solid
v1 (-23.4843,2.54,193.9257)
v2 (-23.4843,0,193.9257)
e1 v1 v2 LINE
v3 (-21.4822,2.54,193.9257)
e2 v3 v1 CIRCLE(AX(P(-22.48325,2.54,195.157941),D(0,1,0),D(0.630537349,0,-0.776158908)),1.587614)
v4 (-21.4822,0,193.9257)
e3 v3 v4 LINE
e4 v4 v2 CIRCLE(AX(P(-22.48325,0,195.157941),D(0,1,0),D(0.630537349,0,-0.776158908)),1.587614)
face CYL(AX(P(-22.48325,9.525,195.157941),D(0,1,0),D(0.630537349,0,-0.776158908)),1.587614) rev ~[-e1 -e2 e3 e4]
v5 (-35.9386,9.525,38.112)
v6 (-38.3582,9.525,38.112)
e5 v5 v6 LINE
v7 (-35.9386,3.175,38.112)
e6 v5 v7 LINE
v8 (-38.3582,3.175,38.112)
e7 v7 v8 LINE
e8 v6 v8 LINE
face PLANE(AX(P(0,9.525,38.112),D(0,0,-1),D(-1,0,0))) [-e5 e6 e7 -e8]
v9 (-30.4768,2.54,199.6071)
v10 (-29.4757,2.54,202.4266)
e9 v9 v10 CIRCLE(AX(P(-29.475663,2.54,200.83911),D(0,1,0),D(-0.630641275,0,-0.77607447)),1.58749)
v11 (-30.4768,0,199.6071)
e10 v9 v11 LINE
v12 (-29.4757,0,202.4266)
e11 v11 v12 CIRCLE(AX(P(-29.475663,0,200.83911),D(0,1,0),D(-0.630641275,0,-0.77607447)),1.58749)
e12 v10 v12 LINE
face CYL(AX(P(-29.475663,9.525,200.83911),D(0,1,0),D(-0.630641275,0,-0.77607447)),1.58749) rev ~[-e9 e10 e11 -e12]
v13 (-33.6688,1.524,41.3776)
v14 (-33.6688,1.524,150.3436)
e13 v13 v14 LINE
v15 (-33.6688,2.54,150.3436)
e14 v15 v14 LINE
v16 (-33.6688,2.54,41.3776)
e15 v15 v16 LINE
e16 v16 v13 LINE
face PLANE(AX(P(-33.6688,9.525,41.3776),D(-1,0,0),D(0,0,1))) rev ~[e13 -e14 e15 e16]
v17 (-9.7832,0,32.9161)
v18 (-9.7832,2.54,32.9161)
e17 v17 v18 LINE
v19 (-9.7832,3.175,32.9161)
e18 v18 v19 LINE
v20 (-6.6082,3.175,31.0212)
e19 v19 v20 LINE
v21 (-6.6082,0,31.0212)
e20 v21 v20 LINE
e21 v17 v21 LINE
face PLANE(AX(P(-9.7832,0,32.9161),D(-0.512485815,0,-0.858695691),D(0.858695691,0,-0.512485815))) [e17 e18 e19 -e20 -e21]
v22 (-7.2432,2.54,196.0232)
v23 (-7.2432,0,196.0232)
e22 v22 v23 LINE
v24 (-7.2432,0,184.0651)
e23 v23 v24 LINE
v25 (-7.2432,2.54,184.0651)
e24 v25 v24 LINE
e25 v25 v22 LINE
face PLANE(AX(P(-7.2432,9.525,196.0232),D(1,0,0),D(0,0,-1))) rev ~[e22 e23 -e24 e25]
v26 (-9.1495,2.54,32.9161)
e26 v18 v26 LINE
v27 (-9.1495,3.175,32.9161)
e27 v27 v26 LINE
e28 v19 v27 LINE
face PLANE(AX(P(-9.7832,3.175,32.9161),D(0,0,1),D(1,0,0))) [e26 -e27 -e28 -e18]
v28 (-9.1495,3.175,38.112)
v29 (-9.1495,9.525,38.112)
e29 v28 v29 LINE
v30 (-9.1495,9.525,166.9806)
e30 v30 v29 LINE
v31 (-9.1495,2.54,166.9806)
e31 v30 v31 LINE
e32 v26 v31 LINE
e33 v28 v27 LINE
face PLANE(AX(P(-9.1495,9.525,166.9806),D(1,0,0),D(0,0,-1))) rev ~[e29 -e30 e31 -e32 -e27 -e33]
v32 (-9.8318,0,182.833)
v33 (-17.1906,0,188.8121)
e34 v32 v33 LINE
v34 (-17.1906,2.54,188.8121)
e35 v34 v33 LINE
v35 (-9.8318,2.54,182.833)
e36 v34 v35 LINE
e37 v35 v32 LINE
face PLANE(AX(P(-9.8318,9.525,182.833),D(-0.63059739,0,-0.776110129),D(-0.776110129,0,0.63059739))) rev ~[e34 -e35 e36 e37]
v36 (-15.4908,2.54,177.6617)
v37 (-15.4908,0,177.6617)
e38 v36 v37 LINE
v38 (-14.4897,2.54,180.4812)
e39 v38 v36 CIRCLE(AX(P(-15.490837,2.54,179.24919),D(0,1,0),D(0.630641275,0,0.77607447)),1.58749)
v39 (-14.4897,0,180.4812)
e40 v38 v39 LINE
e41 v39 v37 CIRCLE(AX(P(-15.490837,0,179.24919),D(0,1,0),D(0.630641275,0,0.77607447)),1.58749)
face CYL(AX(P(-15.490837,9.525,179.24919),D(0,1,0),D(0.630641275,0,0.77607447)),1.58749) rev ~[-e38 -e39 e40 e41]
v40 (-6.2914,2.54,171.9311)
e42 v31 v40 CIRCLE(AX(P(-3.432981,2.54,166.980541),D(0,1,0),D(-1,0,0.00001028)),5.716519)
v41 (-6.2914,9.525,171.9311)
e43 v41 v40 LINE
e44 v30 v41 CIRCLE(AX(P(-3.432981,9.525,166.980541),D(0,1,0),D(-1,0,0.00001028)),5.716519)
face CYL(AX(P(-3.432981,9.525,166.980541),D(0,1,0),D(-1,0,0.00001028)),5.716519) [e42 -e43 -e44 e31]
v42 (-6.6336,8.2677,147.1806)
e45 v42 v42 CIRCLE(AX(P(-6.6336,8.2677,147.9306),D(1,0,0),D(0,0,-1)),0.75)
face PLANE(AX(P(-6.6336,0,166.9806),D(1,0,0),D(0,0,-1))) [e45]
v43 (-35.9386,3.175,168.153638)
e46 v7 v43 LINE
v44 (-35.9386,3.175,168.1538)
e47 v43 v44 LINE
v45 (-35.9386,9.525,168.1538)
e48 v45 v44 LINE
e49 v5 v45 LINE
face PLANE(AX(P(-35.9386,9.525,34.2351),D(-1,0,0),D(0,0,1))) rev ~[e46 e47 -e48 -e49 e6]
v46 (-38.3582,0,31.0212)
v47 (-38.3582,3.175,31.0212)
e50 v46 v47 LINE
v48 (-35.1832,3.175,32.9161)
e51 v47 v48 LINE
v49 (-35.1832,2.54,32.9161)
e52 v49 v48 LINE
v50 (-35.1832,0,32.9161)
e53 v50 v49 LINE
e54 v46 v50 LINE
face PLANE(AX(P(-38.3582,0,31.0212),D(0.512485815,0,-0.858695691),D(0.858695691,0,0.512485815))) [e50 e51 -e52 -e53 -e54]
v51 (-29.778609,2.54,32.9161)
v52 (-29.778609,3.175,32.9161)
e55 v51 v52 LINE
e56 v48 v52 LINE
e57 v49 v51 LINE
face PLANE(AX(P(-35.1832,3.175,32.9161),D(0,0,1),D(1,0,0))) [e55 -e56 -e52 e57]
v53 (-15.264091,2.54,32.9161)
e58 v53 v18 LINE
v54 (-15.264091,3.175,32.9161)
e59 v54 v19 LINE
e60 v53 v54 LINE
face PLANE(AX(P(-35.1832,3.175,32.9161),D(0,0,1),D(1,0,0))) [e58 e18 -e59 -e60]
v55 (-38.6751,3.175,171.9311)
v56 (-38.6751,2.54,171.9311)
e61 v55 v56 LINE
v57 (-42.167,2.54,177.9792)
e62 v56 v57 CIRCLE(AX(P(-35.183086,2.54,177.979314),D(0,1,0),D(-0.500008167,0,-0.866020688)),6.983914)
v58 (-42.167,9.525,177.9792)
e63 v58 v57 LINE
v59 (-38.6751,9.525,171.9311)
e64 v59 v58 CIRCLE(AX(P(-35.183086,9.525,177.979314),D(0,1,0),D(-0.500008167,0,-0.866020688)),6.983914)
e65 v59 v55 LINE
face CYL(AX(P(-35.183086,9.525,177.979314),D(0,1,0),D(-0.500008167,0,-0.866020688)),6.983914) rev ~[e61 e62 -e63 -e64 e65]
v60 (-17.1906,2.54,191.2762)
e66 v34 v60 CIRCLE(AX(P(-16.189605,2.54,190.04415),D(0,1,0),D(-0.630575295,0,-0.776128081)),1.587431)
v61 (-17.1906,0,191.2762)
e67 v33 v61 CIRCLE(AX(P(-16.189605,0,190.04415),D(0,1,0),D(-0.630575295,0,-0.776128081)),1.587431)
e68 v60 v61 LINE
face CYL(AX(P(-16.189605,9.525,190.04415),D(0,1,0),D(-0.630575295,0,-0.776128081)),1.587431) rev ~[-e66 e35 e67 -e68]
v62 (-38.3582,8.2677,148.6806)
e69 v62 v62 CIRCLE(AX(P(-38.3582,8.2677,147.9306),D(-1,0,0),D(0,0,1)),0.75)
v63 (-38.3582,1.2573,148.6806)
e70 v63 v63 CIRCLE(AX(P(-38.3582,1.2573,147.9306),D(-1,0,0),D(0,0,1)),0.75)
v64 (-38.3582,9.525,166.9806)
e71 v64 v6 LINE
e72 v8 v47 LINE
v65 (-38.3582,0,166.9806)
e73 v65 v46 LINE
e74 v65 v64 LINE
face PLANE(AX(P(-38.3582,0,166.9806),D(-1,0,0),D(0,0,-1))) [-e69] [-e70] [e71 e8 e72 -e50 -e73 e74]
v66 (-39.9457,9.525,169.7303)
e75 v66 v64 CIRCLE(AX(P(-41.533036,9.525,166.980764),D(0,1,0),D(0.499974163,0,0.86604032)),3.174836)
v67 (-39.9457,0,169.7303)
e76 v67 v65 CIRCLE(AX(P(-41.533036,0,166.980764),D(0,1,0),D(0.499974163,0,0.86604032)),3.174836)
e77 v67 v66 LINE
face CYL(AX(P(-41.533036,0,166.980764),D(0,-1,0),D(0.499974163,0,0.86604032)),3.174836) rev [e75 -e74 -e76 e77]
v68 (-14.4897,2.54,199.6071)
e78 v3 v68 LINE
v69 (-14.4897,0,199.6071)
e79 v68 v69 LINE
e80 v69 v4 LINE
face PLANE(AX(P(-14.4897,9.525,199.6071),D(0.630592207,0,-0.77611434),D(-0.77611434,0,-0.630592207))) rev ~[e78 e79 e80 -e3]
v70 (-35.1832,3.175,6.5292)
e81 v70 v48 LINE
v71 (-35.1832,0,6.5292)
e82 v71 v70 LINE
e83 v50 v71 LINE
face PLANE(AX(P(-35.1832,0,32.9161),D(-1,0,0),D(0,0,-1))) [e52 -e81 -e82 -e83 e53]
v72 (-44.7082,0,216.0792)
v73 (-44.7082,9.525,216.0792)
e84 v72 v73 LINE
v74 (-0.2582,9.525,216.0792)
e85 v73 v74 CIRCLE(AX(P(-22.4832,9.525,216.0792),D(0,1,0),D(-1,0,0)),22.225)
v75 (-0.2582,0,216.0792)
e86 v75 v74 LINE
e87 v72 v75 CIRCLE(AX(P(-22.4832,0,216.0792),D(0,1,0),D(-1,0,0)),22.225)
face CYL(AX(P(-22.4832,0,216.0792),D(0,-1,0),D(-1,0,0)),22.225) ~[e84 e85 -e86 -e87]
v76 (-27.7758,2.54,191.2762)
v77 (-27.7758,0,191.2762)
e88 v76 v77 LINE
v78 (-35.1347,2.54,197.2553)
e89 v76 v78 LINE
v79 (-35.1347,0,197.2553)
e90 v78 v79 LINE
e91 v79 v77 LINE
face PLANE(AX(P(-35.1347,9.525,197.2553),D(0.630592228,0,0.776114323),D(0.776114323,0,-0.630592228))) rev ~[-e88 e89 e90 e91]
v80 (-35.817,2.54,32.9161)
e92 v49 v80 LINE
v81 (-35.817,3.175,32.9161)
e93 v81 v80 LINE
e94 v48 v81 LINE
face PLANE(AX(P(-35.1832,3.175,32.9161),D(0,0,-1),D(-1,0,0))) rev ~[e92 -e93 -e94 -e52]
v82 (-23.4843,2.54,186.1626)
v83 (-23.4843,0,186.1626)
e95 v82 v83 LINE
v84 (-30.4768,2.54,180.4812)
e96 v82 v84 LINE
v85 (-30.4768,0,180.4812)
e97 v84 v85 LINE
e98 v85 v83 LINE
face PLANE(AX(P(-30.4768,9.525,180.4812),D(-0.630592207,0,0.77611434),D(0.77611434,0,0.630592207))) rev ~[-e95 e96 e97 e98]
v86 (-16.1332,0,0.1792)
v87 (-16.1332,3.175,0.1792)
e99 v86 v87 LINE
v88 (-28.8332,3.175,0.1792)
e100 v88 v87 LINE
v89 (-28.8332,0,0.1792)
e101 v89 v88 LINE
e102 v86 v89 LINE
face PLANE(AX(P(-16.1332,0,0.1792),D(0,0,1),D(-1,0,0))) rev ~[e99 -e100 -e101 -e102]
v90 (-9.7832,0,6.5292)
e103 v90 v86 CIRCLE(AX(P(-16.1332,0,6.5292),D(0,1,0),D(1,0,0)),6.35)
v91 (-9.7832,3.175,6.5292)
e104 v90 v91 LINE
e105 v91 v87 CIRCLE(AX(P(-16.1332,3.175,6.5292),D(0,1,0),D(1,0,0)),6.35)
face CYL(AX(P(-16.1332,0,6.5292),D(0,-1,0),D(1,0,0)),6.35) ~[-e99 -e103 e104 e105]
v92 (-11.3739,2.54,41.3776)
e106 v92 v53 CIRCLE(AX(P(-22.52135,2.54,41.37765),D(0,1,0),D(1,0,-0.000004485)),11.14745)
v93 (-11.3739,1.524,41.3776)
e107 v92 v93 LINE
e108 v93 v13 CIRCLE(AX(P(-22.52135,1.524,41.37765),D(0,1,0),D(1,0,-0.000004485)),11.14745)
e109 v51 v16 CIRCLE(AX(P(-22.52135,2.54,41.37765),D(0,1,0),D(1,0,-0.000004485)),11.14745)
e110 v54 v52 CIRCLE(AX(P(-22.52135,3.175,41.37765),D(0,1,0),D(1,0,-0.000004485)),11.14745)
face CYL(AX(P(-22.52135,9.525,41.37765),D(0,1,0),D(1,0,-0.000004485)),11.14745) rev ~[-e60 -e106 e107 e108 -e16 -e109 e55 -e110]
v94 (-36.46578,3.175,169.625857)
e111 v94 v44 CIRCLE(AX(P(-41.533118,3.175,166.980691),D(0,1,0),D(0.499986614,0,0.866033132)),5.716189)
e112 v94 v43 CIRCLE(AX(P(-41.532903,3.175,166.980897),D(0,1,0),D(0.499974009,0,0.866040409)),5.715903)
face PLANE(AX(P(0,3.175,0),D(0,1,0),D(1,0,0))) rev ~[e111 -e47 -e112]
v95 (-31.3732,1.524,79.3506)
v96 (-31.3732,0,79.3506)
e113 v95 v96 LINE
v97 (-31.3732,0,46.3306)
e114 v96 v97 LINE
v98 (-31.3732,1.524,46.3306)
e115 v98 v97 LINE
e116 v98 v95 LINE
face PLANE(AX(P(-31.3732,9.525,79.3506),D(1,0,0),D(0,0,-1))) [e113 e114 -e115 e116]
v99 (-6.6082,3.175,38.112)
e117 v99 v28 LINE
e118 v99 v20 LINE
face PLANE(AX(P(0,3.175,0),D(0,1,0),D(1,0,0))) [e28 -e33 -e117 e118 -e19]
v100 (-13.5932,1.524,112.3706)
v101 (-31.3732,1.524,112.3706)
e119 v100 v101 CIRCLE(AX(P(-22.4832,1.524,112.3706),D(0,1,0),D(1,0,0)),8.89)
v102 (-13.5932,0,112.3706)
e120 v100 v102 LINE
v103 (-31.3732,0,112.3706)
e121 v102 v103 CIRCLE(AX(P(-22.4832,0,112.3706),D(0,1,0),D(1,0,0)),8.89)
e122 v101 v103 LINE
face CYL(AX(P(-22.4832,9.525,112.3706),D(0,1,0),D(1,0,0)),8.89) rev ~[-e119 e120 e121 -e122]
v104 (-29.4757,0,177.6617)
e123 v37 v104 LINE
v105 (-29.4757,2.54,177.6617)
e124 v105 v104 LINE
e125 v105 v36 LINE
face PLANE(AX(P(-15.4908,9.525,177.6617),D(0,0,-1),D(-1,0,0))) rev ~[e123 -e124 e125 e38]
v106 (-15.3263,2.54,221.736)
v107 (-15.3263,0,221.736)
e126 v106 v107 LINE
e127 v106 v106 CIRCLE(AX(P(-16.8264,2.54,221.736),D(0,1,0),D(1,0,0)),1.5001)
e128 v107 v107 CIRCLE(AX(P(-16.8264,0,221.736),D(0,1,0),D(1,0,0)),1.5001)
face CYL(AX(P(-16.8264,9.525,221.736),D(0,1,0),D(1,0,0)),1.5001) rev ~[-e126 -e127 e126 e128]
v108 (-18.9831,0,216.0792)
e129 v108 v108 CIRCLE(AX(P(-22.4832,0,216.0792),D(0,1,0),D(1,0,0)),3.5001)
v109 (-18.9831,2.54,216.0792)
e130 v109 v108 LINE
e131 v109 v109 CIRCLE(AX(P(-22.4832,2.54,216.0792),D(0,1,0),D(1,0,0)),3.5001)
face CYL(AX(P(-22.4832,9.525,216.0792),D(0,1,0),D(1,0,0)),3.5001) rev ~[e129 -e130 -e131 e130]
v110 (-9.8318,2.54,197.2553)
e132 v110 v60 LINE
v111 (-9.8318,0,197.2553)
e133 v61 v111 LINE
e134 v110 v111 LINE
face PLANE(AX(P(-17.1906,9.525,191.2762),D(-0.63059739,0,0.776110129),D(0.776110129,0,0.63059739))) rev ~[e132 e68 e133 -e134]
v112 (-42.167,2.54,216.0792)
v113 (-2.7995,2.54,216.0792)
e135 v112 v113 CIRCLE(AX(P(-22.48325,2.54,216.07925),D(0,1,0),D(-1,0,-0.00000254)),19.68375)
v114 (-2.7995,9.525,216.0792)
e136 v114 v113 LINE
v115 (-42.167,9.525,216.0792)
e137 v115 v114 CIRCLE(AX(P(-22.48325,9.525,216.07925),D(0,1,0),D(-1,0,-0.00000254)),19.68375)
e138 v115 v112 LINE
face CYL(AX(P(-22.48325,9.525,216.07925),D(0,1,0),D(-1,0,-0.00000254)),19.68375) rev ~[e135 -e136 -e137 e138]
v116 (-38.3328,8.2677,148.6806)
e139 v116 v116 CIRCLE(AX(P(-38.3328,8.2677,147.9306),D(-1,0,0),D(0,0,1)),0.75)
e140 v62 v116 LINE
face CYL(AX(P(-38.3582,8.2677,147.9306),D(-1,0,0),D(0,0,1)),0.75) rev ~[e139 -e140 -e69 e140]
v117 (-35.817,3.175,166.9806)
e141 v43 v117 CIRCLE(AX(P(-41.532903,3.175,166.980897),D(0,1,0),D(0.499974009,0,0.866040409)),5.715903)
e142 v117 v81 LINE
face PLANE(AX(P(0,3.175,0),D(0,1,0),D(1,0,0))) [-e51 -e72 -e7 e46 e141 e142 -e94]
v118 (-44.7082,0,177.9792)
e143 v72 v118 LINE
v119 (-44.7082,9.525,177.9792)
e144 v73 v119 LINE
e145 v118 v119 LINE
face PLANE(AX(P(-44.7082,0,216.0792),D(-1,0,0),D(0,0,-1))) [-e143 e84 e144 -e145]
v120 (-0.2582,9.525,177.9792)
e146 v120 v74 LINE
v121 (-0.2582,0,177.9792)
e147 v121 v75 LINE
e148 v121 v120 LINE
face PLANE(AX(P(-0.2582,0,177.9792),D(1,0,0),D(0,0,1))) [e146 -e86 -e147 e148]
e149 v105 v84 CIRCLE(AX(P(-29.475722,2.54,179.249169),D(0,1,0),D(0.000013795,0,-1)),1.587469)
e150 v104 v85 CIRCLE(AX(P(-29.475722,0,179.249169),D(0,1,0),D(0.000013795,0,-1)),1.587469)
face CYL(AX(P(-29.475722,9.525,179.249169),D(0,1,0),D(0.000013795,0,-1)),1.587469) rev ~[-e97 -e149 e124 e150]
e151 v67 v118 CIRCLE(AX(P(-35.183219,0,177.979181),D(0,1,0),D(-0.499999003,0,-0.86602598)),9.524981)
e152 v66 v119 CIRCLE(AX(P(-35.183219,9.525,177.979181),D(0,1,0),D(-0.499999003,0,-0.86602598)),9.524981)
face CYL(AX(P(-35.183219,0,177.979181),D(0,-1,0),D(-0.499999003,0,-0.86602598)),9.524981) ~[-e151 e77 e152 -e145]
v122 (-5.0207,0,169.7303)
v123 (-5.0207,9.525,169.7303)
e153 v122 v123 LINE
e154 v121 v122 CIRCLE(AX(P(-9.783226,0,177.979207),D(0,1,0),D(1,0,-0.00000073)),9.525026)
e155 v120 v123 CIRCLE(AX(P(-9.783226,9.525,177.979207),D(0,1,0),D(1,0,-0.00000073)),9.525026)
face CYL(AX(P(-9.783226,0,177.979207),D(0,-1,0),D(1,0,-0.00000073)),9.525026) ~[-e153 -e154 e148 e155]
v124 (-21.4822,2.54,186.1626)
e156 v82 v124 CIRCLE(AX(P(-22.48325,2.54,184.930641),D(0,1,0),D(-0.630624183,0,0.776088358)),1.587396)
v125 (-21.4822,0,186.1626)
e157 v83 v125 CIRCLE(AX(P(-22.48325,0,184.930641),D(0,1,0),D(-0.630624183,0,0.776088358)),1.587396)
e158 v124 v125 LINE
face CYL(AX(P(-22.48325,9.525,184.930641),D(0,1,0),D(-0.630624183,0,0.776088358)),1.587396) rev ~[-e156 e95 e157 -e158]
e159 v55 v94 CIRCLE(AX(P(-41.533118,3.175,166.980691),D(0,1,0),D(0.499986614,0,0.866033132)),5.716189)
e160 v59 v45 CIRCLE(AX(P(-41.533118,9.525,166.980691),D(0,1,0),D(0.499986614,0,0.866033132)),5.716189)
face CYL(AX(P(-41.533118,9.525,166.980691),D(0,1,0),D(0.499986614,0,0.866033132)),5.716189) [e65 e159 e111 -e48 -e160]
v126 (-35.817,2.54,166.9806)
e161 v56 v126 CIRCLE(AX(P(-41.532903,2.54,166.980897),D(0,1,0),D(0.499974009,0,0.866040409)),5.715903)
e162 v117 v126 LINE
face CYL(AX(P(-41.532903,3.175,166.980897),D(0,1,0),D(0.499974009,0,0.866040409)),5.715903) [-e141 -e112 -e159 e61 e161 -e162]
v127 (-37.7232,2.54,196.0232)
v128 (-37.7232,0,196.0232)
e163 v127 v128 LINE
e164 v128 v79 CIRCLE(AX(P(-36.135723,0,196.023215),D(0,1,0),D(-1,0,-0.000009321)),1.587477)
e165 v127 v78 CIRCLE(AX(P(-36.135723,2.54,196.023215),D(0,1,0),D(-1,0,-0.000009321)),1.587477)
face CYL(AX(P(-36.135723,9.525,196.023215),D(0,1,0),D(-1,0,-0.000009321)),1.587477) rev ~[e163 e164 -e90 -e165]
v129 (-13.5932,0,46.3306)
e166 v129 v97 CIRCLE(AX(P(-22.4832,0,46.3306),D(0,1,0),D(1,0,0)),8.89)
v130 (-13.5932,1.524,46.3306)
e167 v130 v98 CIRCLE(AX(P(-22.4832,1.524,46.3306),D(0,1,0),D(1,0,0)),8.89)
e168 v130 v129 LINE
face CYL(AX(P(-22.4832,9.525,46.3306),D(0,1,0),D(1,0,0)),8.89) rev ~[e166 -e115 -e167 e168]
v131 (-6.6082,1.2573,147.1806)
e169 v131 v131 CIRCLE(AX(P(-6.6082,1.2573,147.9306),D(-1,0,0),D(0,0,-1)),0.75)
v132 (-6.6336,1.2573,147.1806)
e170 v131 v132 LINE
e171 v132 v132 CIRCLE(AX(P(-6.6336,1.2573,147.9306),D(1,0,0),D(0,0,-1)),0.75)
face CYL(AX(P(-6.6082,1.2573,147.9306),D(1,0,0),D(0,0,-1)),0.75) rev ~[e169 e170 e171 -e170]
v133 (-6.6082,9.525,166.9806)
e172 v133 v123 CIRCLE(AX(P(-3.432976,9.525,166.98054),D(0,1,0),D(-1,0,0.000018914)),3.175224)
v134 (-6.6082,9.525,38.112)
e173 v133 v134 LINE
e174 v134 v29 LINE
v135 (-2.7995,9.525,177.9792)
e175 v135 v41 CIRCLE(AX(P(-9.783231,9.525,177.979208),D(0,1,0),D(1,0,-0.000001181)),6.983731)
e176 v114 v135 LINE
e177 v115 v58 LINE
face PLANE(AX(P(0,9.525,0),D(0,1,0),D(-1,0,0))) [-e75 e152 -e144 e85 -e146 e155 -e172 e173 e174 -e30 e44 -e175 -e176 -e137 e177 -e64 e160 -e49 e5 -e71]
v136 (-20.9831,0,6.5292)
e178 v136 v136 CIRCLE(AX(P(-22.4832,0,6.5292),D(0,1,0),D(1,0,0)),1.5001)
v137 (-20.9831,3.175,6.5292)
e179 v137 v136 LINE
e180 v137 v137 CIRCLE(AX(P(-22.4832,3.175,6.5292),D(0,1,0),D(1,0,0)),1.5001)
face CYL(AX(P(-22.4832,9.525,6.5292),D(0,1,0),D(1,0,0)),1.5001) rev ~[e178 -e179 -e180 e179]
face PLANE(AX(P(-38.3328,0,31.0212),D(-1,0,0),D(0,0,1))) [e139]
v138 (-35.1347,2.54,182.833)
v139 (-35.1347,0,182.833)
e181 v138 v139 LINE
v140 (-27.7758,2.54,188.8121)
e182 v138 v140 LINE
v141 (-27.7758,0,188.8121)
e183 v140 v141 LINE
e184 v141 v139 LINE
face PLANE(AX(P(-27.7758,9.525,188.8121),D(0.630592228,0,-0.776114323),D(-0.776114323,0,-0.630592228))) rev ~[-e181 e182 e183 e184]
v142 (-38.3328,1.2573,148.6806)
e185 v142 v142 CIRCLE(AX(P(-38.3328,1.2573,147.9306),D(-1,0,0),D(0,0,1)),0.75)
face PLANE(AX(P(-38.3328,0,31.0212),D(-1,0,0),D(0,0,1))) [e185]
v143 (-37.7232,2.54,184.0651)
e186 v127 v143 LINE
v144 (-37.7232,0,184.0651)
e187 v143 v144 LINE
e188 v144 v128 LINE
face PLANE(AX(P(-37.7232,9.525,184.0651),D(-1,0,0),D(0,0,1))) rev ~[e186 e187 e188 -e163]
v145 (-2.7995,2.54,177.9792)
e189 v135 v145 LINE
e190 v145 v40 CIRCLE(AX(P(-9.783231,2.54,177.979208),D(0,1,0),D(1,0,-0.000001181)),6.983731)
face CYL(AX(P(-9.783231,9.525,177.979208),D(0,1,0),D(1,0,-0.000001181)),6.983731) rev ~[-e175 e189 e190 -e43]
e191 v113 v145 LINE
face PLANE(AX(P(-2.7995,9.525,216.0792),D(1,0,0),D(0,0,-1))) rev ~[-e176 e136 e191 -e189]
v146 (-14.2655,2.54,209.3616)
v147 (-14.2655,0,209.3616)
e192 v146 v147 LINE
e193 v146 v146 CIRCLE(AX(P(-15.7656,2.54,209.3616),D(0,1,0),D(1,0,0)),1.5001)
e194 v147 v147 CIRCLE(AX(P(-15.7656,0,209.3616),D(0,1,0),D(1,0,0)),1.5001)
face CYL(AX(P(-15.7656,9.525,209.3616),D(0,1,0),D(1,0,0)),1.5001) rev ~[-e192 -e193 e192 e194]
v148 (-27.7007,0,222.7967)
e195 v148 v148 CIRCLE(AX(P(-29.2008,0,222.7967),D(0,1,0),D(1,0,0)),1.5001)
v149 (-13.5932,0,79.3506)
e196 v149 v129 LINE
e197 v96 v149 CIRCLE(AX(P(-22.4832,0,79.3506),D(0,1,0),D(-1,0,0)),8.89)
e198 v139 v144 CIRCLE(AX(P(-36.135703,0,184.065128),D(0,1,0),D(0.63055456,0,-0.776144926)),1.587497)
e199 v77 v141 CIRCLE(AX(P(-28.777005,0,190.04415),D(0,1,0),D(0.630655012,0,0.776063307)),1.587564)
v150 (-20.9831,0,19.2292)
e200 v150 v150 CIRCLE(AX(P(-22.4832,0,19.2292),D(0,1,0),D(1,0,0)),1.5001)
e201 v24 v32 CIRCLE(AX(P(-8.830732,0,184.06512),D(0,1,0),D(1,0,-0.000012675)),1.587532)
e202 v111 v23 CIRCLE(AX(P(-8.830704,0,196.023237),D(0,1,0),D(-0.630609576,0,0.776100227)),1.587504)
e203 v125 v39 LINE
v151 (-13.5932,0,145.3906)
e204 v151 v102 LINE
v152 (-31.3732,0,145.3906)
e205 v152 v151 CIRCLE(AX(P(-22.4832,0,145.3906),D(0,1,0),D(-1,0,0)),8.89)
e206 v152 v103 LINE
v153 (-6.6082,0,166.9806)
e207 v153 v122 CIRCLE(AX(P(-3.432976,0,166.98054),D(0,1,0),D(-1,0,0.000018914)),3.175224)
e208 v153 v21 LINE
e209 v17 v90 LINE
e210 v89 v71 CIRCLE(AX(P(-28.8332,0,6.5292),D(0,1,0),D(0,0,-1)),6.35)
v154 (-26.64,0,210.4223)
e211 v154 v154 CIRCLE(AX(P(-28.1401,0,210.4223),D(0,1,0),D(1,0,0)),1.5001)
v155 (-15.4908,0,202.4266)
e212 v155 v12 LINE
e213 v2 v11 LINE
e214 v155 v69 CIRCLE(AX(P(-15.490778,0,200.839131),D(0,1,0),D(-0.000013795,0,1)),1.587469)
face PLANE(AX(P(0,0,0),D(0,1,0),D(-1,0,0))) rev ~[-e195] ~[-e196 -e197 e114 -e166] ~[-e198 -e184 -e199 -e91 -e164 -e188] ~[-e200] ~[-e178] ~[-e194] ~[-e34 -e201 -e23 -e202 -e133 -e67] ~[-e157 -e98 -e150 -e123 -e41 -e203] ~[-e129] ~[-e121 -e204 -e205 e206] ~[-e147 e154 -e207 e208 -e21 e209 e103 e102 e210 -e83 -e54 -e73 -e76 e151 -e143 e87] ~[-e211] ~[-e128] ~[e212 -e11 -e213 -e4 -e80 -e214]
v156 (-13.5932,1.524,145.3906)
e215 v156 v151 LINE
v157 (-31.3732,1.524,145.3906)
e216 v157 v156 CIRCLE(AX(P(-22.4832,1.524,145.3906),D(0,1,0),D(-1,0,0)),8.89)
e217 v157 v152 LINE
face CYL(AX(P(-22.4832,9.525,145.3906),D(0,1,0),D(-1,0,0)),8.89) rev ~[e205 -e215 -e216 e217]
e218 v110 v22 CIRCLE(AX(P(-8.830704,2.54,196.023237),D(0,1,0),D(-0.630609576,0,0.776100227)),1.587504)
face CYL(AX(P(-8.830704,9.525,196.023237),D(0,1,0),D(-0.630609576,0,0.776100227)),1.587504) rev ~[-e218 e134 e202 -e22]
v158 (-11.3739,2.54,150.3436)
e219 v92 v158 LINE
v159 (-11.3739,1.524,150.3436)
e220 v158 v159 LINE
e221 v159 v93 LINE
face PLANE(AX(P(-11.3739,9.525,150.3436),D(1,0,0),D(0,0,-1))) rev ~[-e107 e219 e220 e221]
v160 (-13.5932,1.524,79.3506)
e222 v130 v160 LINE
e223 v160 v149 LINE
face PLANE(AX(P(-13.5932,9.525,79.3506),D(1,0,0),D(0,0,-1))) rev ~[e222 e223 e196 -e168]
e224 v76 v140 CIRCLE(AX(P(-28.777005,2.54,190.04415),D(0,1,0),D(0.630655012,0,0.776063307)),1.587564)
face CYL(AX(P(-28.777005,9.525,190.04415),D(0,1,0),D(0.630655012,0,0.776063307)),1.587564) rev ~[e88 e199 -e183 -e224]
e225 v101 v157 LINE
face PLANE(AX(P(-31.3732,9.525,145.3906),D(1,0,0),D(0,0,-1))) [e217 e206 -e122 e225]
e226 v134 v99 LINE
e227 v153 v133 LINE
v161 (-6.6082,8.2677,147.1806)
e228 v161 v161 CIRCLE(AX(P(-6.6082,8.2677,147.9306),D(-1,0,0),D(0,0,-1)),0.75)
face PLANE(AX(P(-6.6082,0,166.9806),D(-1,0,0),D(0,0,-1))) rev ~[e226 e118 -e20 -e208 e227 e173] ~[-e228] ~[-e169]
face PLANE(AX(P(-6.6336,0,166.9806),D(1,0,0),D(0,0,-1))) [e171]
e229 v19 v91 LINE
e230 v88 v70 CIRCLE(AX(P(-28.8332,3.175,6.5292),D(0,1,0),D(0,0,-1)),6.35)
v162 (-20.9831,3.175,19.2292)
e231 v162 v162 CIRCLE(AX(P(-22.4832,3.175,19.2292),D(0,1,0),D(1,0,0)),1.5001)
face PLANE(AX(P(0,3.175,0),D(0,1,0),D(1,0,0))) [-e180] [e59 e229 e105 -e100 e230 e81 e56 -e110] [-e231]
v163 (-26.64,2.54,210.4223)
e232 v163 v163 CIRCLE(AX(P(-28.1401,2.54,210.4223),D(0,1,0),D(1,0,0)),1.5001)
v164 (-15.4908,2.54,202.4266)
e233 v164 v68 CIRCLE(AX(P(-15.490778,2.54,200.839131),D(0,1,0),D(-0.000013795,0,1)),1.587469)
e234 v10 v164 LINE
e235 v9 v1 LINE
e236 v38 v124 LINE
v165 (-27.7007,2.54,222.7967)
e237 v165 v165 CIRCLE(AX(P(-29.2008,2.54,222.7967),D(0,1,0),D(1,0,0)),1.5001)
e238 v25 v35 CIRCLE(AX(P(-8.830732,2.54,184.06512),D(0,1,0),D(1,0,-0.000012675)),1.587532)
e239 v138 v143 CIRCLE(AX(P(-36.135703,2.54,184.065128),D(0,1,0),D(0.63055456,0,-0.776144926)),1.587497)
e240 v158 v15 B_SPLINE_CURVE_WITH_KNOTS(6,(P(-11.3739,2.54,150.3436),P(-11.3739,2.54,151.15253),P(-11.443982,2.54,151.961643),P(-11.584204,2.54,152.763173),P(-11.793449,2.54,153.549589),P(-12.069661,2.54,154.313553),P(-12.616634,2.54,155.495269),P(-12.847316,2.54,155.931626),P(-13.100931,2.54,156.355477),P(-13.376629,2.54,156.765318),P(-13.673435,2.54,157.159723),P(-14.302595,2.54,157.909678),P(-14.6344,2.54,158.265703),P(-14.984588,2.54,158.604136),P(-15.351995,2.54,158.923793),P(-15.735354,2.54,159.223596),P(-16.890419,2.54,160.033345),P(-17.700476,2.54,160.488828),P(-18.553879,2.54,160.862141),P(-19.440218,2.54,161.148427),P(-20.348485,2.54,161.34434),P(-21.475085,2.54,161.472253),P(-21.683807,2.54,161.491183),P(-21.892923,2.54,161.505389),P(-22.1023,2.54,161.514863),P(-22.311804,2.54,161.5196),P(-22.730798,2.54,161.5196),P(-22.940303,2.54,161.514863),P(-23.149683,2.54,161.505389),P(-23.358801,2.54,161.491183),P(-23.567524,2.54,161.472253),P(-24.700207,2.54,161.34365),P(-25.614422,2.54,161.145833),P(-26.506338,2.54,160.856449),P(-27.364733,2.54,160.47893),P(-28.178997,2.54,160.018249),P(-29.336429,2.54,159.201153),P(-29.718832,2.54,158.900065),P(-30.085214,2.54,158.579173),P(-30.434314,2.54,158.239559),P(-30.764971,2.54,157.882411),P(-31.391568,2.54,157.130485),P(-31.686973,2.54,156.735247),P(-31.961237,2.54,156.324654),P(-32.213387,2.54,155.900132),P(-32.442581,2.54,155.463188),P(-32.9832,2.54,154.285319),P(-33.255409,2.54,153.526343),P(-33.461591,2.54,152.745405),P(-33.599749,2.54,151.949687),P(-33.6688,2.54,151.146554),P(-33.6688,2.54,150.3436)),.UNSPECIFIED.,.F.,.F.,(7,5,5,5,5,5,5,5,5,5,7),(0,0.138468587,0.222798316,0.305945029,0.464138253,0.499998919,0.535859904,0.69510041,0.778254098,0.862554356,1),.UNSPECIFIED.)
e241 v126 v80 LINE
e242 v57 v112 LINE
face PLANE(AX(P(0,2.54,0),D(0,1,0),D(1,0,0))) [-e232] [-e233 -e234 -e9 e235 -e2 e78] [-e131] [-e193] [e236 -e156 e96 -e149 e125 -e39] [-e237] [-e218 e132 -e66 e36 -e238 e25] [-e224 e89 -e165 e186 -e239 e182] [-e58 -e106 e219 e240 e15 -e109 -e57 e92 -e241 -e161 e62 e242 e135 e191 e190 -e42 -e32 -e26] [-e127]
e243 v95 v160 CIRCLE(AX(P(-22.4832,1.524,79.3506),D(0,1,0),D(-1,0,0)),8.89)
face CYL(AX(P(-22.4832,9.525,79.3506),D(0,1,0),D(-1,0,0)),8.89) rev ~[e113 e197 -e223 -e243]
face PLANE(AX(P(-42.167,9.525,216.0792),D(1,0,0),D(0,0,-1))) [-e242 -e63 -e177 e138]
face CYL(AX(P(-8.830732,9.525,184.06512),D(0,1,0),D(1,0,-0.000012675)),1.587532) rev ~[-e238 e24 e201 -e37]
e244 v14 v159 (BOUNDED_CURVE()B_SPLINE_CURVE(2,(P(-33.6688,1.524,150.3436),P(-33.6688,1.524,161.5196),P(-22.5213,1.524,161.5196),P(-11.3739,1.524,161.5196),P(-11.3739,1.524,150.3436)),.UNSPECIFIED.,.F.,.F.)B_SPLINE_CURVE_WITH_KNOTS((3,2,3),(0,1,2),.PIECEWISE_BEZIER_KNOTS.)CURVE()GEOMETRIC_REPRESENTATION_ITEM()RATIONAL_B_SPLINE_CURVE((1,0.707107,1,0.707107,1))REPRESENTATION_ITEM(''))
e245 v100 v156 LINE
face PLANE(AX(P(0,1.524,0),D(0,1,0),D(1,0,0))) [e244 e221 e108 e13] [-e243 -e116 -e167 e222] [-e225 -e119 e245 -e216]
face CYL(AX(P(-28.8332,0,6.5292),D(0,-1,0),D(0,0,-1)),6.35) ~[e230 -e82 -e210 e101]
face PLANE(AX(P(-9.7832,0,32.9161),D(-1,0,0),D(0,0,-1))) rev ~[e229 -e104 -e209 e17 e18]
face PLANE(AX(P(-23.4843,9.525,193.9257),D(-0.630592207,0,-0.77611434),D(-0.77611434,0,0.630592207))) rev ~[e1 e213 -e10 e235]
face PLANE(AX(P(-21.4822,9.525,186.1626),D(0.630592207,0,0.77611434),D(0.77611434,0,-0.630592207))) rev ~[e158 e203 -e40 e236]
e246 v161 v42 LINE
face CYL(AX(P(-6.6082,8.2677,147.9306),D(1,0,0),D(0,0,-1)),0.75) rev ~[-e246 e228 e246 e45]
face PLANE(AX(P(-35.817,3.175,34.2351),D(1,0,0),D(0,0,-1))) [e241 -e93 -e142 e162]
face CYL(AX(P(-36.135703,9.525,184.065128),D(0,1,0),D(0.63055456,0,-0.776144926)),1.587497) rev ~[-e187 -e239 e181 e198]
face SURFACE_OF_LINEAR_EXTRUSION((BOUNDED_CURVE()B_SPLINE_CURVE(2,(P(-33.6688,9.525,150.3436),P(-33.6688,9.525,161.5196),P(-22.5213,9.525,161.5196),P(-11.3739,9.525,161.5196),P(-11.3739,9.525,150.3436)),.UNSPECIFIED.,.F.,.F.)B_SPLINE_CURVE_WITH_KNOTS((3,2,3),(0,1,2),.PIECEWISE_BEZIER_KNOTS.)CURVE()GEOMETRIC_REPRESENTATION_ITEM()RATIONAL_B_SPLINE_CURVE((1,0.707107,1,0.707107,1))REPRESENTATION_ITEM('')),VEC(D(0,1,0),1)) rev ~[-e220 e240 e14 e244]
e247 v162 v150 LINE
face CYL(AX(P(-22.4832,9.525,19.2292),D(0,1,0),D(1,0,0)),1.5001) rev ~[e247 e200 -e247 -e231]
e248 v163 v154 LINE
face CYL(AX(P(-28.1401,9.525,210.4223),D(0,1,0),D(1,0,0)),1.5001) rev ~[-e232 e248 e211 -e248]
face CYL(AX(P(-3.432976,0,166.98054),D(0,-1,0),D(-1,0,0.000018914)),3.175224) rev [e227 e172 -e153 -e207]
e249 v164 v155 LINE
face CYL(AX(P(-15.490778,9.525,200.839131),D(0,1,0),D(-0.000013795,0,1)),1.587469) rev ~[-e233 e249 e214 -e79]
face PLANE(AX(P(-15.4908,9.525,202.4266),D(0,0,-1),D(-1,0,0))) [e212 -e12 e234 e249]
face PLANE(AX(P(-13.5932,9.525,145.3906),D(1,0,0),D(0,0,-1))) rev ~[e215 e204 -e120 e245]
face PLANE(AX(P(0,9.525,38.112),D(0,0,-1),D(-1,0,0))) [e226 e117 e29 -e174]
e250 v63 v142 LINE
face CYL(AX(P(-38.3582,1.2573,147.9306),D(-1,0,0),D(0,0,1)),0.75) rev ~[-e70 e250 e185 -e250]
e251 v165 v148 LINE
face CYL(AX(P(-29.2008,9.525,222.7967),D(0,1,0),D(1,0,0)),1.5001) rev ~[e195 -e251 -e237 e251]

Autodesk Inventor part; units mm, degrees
ref_plane "YZ Plane" through (0, 0, 0) normal (1, 0, 0) x (0, 1, 0)
ref_plane "XZ Plane" through (0, 0, 0) normal (0, 1, 0) x (-1, 0, 0)
ref_plane "XY Plane" through (0, 0, 0) normal (0, 0, 1) x (1, 0, 0)
sketch "Sketch1" plane through (0, 0, 0) normal (0, 1, 0) x (-1, 0, 0)
  line L0 (52.0335, 19.2292) -> (51.733, 19.2292)
  line L1 (38.3582, 166.9806) -> (38.3582, 31.0212)
  line L2 (6.6082, 166.9806) -> (6.6082, 31.0212)
  line L3 (38.3582, 31.0212) -> (35.1832, 32.9161)
  line L4 (35.1832, 32.9161) -> (35.1832, 6.5292)
  line L5 (9.7832, 32.9161) -> (9.7832, 6.5292)
  line L6 (16.1332, 0.1792) -> (28.8332, 0.1792)
  line L7 (44.7082, 216.0792) -> (44.7082, 177.9792)
  line L8 (0.2582, 177.9792) -> (0.2582, 216.0792)
  arc A0 (44.7082, 216.0792) -> (0.2582, 216.0792) centre (22.4832, 216.0792) ccw
  arc A1 (39.9457, 169.7303) -> (38.3582, 166.9806) centre (41.5332, 166.9806) ccw
  arc A2 (28.8332, 0.1792) -> (35.1832, 6.5292) centre (28.8332, 6.5292) ccw
  arc A3 (9.7832, 6.5292) -> (16.1332, 0.1792) centre (16.1332, 6.5292) ccw
  arc A4 (39.9457, 169.7303) -> (44.7082, 177.9792) centre (35.1832, 177.9792) ccw
  arc A5 (0.2582, 177.9792) -> (5.0207, 169.7303) centre (9.7832, 177.9792) ccw
  arc A6 (6.6082, 166.9806) -> (5.0207, 169.7303) centre (3.4332, 166.9806) ccw
  line L9 (9.7832, 32.9161) -> (6.6082, 31.0212)
  dimension "d1136" = 135.9594
  dimension "d1137" = 26.3869
  dimension "d1138" = 1.8949
  dimension "d1139" = 6.35
  dimension "d1140" = 3.175
  dimension "d1141" = 9.525
  dimension "d1142" = 38.1
  dimension "d1143" = 22.225
  dimension "d1144" = 12.7
extrude "Extrusion1" add sketch "Sketch1" along normal blind 9.525
sketch "Sketch5" plane through (0, 9.525, 0) normal (0, 1, 0) x (1, 0, 0)
  line L0 (-52.0335, -19.2292) -> (-51.733, -19.2292)
  line L1 (-35.1832, -32.9161) -> (-35.1832, -34.2351)
  line L2 (-9.7832, -32.9161) -> (-9.7832, -34.2351)
  line L3 (-2.7995, -216.0792) -> (-2.7995, -177.9792)
  line L4 (-42.167, -216.0792) -> (-42.167, -177.9792)
  line L5 (-9.1495, -166.9806) -> (-9.1495, -34.2351)
  line L6 (-9.1495, -34.2351) -> (-9.7832, -34.2351)
  line L7 (-35.1832, -34.2351) -> (-35.9386, -34.2351)
  line L8 (-35.1832, -6.5292) -> (-35.1832, -32.9161)
  line L9 (-35.1832, -32.9161) -> (-35.1832, -6.5292) projected
  line L10 (-9.7832, -32.9161) -> (-9.7832, -6.5292)
  arc A0 (-9.7832, -6.5292) -> (-16.1332, -0.1792) centre (-16.1332, -6.5292) ccw
  arc A1 (-28.8332, -0.1792) -> (-35.1832, -6.5292) centre (-28.8332, -6.5292) ccw
  arc A2 (-38.6751, -171.9311) -> (-42.167, -177.9792) centre (-35.1832, -177.9792) ccw
  arc A3 (-2.7995, -177.9792) -> (-6.2914, -171.9311) centre (-9.7832, -177.9792) ccw
  arc A4 (-9.1495, -166.9806) -> (-6.2914, -171.9311) centre (-3.4332, -166.9806) ccw
  arc A5 (-38.6751, -171.9311) -> (-35.9386, -168.1538) centre (-41.5332, -166.9806) ccw
  line L11 (-28.8332, -0.1792) -> (-16.1332, -0.1792)
  arc A6 (-9.7832, -6.5292) -> (-16.1332, -0.1792) centre (-16.1332, -6.5292) ccw projected
  line L12 (-16.1332, -0.1792) -> (-28.8332, -0.1792) projected
  arc A7 (-42.167, -216.0792) -> (-2.7995, -216.0792) centre (-22.4832, -216.0792) ccw
  line L13 (-35.9386, -34.2351) -> (-35.9386, -168.1538)
  line L14 (-38.3582, -166.9806) -> (-38.3582, -31.0212) projected
extrude "Extrusion2" cut sketch "Sketch5" against normal blind 6.35
sketch "Sketch6" plane through (0, 9.525, 0) normal (0, 1, 0) x (1, 0, 0)
  circle A0 centre (-22.4832, -19.2292) radius 1.5001
  circle A1 centre (-22.4832, -6.5292) radius 1.5001
  line L0 (-13.5932, -145.3906) -> (-13.5932, -112.3706)
  line L1 (-31.3732, -145.3906) -> (-31.3732, -112.3706)
  line L2 (-31.3732, -79.3506) -> (-31.3732, -46.3306)
  line L3 (-13.5932, -79.3506) -> (-13.5932, -46.3306)
  arc A2 (-13.5932, -112.3706) -> (-31.3732, -112.3706) centre (-22.4832, -112.3706) ccw
  arc A3 (-31.3732, -145.3906) -> (-13.5932, -145.3906) centre (-22.4832, -145.3906) ccw
  arc A4 (-31.3732, -79.3506) -> (-13.5932, -79.3506) centre (-22.4832, -79.3506) ccw
  arc A5 (-13.5932, -46.3306) -> (-31.3732, -46.3306) centre (-22.4832, -46.3306) ccw
  circle A6 centre (-16.8264, -221.736) radius 1.5001
  circle A7 centre (-29.2008, -222.7967) radius 1.5001
  circle A8 centre (-15.7656, -209.3616) radius 1.5001
  circle A9 centre (-22.4832, -216.0792) radius 3.5001
  circle A10 centre (-28.1401, -210.4223) radius 1.5001
  arc A11 (-15.4908, -202.4266) -> (-14.4897, -199.6071) centre (-15.4908, -200.8391) ccw
  arc A12 (-30.4768, -199.6071) -> (-29.4757, -202.4266) centre (-29.4757, -200.8391) ccw
  arc A13 (-21.4822, -193.9257) -> (-23.4843, -193.9257) centre (-22.4832, -195.1578) ccw
  arc A14 (-17.1906, -188.8121) -> (-17.1906, -191.2762) centre (-16.1895, -190.0442) ccw
  arc A15 (-7.2432, -184.0651) -> (-9.8318, -182.833) centre (-8.8307, -184.0651) ccw
  arc A16 (-9.8318, -197.2553) -> (-7.2432, -196.0232) centre (-8.8307, -196.0232) ccw
  arc A17 (-14.4897, -180.4812) -> (-15.4908, -177.6617) centre (-15.4908, -179.2492) ccw
  arc A18 (-29.4757, -177.6617) -> (-30.4768, -180.4812) centre (-29.4757, -179.2492) ccw
  arc A19 (-23.4843, -186.1626) -> (-21.4822, -186.1626) centre (-22.4832, -184.9305) ccw
  arc A20 (-27.7758, -191.2762) -> (-27.7758, -188.8121) centre (-28.7769, -190.0442) ccw
  arc A21 (-37.7232, -196.0232) -> (-35.1347, -197.2553) centre (-36.1357, -196.0232) ccw
  arc A22 (-35.1347, -182.833) -> (-37.7232, -184.0651) centre (-36.1357, -184.0651) ccw
  line L4 (-15.4908, -202.4266) -> (-29.4757, -202.4266)
  line L5 (-14.4897, -199.6071) -> (-21.4822, -193.9257)
  line L6 (-23.4843, -193.9257) -> (-30.4768, -199.6071)
  line L7 (-35.1347, -197.2553) -> (-27.7758, -191.2762)
  line L8 (-27.7758, -188.8121) -> (-35.1347, -182.833)
  line L9 (-37.7232, -184.0651) -> (-37.7232, -196.0232)
  line L10 (-30.4768, -180.4812) -> (-23.4843, -186.1626)
  line L11 (-21.4822, -186.1626) -> (-14.4897, -180.4812)
  line L12 (-15.4908, -177.6617) -> (-29.4757, -177.6617)
  line L13 (-7.2432, -196.0232) -> (-7.2432, -184.0651)
  line L14 (-9.8318, -182.833) -> (-17.1906, -188.8121)
  line L15 (-17.1906, -191.2762) -> (-9.8318, -197.2553)
  line L16 (-13.4689, -178.6236) -> (-12.1014, -178.6236) construction
  line L17 (-12.1014, -178.6236) -> (-12.1014, -180.1758) construction
  line L18 (-12.1014, -180.1758) -> (-13.4689, -180.1758) construction
  line L19 (-13.4689, -180.1758) -> (-13.4689, -178.6236) construction
  line L20 (-37.9058, -219.2042) -> (-36.1564, -219.2042) construction
  line L21 (-36.1564, -219.2042) -> (-36.1564, -220.2432) construction
  line L22 (-36.1564, -220.2432) -> (-37.9058, -220.2432) construction
  line L23 (-37.9058, -220.2432) -> (-37.9058, -219.2042) construction
  point P0 (0, 0)
  dimension "d1145" = 8.89
  dimension "d1146" = 33.02
  dimension "d1147" = 8.89
  dimension "d1148" = 3.0002
  dimension "d1149" = 3.0002
  dimension "d1150" = 8.89
  dimension "d1151" = 8.89
  dimension "d1152" = 33.02
  dimension "d1153" = 13.9849
  dimension "d1154" = 6.9925
  dimension "d1155" = 6.9925
  dimension "d1156" = 1.5875
  dimension "d1157" = 3.0002
  dimension "d1158" = 30.48
  dimension "d1159" = 24.765
  dimension "d1160" = 9.4124
  dimension "d1161" = 10.2272
  dimension "d1162" = 16
  dimension "d1163" = 11.3137
  dimension "d1164" = 7.0002
extrude "Extrusion3" cut sketch "Sketch6" against normal blind 25.4
sketch "Sketch7" plane through (0, 9.525, 0) normal (0, 1, 0) x (1, 0, 0)
  line L0 (-52.0335, -19.2292) -> (-51.733, -19.2292)
  line L1 (0, -16.7662) -> (-44.6659, -16.7662)
  line L2 (0, -38.112) -> (-44.6659, -38.112)
  line L3 (0, -38.112) -> (0, -16.7662)
  line L4 (-44.6659, -16.7662) -> (-44.6659, -38.112)
  point P0 (0, 0)
extrude "Extrusion4" cut sketch "Sketch7" against normal blind 6.35
sketch "Sketch9" plane through (0, 9.525, 0) normal (0, 1, 0) x (1, 0, 0)
  arc A0 (-6.6082, -166.9806) -> (-5.0207, -169.7303) centre (-3.4332, -166.9806) ccw
  spline S0 degree 2 poles (-33.6688, -150.3436) (-33.6688, -161.5196) (-22.5213, -161.5196) (-11.3739, -161.5196) (-11.3739, -150.3436) knots 0 0 0 1 1 2 2 2 weights 1 0.707107 1 0.707107 1
  line L0 (-33.6688, -150.3436) -> (-33.6688, -161.5196) construction
  line L1 (-33.6688, -161.5196) -> (-22.5213, -161.5196) construction
  line L2 (-22.5213, -161.5196) -> (-11.3739, -161.5196) construction
  line L3 (-11.3739, -161.5196) -> (-11.3739, -150.3436) construction
  arc A1 (-11.3739, -41.3776) -> (-33.6688, -41.3776) centre (-22.5213, -41.3776) ccw
  line L4 (-11.3739, -150.3436) -> (-11.3739, -41.3776)
  line L5 (-33.6688, -41.3776) -> (-33.6688, -150.3436)
  point P0 (0, 0)
extrude "Extrusion6" cut sketch "Sketch9" against normal blind 8.001
sketch "Sketch10" plane through (0, 3.175, 0) normal (0, 1, 0) x (1, 0, 0)
  line L0 (-52.0335, -19.2292) -> (-51.733, -19.2292)
  arc A0 (-38.6751, -171.9311) -> (-35.817, -166.9806) centre (-41.5332, -166.9806) ccw
  arc A1 (-38.6751, -171.9311) -> (-42.167, -177.9792) centre (-35.1832, -177.9792) ccw
  line L1 (-42.167, -177.9792) -> (-42.167, -216.0792)
  arc A2 (-42.167, -216.0792) -> (-2.7995, -216.0792) centre (-22.4832, -216.0792) ccw
  line L2 (-2.7995, -216.0792) -> (-2.7995, -177.9792)
  arc A3 (-2.7995, -177.9792) -> (-6.2914, -171.9311) centre (-9.7832, -177.9792) ccw
  arc A4 (-9.1495, -166.9806) -> (-6.2914, -171.9311) centre (-3.4332, -166.9806) ccw
  line L3 (-9.1495, -166.9806) -> (-9.1495, -34.2351)
  line L4 (-35.817, -34.2351) -> (-35.817, -166.9806)
  line L5 (-35.1832, -32.9161) -> (-35.817, -32.9161)
  line L6 (-9.7832, -32.9161) -> (-9.1495, -32.9161)
  line L7 (-9.1495, -34.2351) -> (-9.1495, -32.9161)
  line L8 (-35.817, -34.2351) -> (-35.817, -32.9161)
  line L9 (-35.1832, -32.9161) -> (-9.1495, -32.9161)
  point P0 (-9.1495, -166.9806)
  point P1 (-41.5332, -166.9806)
  point P2 (-3.4332, -166.9806)
  dimension "d1" = 0
extrude "Extrusion7" cut sketch "Sketch10" against normal blind 0.635
thread "Thread1" size "5-40 UNC" class "2B" standard "ANSI Unified Screw Threads" full length
thread "Thread2" size "5-40 UNC" class "2B" standard "ANSI Unified Screw Threads" full length
sketch "Sketch13" plane through (-6.6082, 0, 166.9806) normal (1, 0, 0) x (0, 0, -1)
  line L0 (0, 0) -> (0, 9.525) projected
  line L1 (0, 9.525) -> (12.7, 9.525)
  line L2 (128.8687, 9.525) -> (0, 9.525) projected
  line L3 (19.05, 4.7625) -> (19.05, 1.2573)
  line L4 (19.05, 4.7625) -> (19.05, 8.2677)
  circle A0 centre (19.05, 1.2573) radius 0.75
  circle A1 centre (19.05, 8.2677) radius 0.75
  line L5 (12.7, 8.2677) -> (19.05, 8.2677)
  point P0 (166.9806, 0)
  dimension "d1116" = 12.7
  dimension "d1117" = 3.5052
  dimension "d1118" = 3.5052
  dimension "d1119" = 1.5
  dimension "d1120" = 1.5
  dimension "d1131" = 6.35
sketch "Sketch14" plane through (-38.3582, 0, 31.0212) normal (-1, 0, 0) x (0, 0, 1)
  line L0 (0, 0) -> (0, 9.525)
  line L1 (0, 9.525) -> (12.7, 9.525)
  circle A0 centre (116.9094, 1.2573) radius 0.75
  circle A1 centre (116.9094, 8.2677) radius 0.75
  line L2 (7.0908, 9.525) -> (135.9594, 9.525) projected
  line L3 (135.9594, 9.525) -> (123.2594, 9.525)
  point P0 (-31.0212, 0)
  point P1 (166.9806, 0)
  dimension "d1148" = 3.0002
  dimension "d1149" = 3.0002
  dimension "d1157" = 3.0002
  dimension "d1162" = 16
  dimension "d1163" = 11.3137
  dimension "d1121" = 12.7
extrude "Extrusion9" cut sketch "Sketch14" against normal blind 0.0254
extrude "Extrusion10" cut sketch "Sketch13" against normal blind 0.0254
properties part number "Arm"
